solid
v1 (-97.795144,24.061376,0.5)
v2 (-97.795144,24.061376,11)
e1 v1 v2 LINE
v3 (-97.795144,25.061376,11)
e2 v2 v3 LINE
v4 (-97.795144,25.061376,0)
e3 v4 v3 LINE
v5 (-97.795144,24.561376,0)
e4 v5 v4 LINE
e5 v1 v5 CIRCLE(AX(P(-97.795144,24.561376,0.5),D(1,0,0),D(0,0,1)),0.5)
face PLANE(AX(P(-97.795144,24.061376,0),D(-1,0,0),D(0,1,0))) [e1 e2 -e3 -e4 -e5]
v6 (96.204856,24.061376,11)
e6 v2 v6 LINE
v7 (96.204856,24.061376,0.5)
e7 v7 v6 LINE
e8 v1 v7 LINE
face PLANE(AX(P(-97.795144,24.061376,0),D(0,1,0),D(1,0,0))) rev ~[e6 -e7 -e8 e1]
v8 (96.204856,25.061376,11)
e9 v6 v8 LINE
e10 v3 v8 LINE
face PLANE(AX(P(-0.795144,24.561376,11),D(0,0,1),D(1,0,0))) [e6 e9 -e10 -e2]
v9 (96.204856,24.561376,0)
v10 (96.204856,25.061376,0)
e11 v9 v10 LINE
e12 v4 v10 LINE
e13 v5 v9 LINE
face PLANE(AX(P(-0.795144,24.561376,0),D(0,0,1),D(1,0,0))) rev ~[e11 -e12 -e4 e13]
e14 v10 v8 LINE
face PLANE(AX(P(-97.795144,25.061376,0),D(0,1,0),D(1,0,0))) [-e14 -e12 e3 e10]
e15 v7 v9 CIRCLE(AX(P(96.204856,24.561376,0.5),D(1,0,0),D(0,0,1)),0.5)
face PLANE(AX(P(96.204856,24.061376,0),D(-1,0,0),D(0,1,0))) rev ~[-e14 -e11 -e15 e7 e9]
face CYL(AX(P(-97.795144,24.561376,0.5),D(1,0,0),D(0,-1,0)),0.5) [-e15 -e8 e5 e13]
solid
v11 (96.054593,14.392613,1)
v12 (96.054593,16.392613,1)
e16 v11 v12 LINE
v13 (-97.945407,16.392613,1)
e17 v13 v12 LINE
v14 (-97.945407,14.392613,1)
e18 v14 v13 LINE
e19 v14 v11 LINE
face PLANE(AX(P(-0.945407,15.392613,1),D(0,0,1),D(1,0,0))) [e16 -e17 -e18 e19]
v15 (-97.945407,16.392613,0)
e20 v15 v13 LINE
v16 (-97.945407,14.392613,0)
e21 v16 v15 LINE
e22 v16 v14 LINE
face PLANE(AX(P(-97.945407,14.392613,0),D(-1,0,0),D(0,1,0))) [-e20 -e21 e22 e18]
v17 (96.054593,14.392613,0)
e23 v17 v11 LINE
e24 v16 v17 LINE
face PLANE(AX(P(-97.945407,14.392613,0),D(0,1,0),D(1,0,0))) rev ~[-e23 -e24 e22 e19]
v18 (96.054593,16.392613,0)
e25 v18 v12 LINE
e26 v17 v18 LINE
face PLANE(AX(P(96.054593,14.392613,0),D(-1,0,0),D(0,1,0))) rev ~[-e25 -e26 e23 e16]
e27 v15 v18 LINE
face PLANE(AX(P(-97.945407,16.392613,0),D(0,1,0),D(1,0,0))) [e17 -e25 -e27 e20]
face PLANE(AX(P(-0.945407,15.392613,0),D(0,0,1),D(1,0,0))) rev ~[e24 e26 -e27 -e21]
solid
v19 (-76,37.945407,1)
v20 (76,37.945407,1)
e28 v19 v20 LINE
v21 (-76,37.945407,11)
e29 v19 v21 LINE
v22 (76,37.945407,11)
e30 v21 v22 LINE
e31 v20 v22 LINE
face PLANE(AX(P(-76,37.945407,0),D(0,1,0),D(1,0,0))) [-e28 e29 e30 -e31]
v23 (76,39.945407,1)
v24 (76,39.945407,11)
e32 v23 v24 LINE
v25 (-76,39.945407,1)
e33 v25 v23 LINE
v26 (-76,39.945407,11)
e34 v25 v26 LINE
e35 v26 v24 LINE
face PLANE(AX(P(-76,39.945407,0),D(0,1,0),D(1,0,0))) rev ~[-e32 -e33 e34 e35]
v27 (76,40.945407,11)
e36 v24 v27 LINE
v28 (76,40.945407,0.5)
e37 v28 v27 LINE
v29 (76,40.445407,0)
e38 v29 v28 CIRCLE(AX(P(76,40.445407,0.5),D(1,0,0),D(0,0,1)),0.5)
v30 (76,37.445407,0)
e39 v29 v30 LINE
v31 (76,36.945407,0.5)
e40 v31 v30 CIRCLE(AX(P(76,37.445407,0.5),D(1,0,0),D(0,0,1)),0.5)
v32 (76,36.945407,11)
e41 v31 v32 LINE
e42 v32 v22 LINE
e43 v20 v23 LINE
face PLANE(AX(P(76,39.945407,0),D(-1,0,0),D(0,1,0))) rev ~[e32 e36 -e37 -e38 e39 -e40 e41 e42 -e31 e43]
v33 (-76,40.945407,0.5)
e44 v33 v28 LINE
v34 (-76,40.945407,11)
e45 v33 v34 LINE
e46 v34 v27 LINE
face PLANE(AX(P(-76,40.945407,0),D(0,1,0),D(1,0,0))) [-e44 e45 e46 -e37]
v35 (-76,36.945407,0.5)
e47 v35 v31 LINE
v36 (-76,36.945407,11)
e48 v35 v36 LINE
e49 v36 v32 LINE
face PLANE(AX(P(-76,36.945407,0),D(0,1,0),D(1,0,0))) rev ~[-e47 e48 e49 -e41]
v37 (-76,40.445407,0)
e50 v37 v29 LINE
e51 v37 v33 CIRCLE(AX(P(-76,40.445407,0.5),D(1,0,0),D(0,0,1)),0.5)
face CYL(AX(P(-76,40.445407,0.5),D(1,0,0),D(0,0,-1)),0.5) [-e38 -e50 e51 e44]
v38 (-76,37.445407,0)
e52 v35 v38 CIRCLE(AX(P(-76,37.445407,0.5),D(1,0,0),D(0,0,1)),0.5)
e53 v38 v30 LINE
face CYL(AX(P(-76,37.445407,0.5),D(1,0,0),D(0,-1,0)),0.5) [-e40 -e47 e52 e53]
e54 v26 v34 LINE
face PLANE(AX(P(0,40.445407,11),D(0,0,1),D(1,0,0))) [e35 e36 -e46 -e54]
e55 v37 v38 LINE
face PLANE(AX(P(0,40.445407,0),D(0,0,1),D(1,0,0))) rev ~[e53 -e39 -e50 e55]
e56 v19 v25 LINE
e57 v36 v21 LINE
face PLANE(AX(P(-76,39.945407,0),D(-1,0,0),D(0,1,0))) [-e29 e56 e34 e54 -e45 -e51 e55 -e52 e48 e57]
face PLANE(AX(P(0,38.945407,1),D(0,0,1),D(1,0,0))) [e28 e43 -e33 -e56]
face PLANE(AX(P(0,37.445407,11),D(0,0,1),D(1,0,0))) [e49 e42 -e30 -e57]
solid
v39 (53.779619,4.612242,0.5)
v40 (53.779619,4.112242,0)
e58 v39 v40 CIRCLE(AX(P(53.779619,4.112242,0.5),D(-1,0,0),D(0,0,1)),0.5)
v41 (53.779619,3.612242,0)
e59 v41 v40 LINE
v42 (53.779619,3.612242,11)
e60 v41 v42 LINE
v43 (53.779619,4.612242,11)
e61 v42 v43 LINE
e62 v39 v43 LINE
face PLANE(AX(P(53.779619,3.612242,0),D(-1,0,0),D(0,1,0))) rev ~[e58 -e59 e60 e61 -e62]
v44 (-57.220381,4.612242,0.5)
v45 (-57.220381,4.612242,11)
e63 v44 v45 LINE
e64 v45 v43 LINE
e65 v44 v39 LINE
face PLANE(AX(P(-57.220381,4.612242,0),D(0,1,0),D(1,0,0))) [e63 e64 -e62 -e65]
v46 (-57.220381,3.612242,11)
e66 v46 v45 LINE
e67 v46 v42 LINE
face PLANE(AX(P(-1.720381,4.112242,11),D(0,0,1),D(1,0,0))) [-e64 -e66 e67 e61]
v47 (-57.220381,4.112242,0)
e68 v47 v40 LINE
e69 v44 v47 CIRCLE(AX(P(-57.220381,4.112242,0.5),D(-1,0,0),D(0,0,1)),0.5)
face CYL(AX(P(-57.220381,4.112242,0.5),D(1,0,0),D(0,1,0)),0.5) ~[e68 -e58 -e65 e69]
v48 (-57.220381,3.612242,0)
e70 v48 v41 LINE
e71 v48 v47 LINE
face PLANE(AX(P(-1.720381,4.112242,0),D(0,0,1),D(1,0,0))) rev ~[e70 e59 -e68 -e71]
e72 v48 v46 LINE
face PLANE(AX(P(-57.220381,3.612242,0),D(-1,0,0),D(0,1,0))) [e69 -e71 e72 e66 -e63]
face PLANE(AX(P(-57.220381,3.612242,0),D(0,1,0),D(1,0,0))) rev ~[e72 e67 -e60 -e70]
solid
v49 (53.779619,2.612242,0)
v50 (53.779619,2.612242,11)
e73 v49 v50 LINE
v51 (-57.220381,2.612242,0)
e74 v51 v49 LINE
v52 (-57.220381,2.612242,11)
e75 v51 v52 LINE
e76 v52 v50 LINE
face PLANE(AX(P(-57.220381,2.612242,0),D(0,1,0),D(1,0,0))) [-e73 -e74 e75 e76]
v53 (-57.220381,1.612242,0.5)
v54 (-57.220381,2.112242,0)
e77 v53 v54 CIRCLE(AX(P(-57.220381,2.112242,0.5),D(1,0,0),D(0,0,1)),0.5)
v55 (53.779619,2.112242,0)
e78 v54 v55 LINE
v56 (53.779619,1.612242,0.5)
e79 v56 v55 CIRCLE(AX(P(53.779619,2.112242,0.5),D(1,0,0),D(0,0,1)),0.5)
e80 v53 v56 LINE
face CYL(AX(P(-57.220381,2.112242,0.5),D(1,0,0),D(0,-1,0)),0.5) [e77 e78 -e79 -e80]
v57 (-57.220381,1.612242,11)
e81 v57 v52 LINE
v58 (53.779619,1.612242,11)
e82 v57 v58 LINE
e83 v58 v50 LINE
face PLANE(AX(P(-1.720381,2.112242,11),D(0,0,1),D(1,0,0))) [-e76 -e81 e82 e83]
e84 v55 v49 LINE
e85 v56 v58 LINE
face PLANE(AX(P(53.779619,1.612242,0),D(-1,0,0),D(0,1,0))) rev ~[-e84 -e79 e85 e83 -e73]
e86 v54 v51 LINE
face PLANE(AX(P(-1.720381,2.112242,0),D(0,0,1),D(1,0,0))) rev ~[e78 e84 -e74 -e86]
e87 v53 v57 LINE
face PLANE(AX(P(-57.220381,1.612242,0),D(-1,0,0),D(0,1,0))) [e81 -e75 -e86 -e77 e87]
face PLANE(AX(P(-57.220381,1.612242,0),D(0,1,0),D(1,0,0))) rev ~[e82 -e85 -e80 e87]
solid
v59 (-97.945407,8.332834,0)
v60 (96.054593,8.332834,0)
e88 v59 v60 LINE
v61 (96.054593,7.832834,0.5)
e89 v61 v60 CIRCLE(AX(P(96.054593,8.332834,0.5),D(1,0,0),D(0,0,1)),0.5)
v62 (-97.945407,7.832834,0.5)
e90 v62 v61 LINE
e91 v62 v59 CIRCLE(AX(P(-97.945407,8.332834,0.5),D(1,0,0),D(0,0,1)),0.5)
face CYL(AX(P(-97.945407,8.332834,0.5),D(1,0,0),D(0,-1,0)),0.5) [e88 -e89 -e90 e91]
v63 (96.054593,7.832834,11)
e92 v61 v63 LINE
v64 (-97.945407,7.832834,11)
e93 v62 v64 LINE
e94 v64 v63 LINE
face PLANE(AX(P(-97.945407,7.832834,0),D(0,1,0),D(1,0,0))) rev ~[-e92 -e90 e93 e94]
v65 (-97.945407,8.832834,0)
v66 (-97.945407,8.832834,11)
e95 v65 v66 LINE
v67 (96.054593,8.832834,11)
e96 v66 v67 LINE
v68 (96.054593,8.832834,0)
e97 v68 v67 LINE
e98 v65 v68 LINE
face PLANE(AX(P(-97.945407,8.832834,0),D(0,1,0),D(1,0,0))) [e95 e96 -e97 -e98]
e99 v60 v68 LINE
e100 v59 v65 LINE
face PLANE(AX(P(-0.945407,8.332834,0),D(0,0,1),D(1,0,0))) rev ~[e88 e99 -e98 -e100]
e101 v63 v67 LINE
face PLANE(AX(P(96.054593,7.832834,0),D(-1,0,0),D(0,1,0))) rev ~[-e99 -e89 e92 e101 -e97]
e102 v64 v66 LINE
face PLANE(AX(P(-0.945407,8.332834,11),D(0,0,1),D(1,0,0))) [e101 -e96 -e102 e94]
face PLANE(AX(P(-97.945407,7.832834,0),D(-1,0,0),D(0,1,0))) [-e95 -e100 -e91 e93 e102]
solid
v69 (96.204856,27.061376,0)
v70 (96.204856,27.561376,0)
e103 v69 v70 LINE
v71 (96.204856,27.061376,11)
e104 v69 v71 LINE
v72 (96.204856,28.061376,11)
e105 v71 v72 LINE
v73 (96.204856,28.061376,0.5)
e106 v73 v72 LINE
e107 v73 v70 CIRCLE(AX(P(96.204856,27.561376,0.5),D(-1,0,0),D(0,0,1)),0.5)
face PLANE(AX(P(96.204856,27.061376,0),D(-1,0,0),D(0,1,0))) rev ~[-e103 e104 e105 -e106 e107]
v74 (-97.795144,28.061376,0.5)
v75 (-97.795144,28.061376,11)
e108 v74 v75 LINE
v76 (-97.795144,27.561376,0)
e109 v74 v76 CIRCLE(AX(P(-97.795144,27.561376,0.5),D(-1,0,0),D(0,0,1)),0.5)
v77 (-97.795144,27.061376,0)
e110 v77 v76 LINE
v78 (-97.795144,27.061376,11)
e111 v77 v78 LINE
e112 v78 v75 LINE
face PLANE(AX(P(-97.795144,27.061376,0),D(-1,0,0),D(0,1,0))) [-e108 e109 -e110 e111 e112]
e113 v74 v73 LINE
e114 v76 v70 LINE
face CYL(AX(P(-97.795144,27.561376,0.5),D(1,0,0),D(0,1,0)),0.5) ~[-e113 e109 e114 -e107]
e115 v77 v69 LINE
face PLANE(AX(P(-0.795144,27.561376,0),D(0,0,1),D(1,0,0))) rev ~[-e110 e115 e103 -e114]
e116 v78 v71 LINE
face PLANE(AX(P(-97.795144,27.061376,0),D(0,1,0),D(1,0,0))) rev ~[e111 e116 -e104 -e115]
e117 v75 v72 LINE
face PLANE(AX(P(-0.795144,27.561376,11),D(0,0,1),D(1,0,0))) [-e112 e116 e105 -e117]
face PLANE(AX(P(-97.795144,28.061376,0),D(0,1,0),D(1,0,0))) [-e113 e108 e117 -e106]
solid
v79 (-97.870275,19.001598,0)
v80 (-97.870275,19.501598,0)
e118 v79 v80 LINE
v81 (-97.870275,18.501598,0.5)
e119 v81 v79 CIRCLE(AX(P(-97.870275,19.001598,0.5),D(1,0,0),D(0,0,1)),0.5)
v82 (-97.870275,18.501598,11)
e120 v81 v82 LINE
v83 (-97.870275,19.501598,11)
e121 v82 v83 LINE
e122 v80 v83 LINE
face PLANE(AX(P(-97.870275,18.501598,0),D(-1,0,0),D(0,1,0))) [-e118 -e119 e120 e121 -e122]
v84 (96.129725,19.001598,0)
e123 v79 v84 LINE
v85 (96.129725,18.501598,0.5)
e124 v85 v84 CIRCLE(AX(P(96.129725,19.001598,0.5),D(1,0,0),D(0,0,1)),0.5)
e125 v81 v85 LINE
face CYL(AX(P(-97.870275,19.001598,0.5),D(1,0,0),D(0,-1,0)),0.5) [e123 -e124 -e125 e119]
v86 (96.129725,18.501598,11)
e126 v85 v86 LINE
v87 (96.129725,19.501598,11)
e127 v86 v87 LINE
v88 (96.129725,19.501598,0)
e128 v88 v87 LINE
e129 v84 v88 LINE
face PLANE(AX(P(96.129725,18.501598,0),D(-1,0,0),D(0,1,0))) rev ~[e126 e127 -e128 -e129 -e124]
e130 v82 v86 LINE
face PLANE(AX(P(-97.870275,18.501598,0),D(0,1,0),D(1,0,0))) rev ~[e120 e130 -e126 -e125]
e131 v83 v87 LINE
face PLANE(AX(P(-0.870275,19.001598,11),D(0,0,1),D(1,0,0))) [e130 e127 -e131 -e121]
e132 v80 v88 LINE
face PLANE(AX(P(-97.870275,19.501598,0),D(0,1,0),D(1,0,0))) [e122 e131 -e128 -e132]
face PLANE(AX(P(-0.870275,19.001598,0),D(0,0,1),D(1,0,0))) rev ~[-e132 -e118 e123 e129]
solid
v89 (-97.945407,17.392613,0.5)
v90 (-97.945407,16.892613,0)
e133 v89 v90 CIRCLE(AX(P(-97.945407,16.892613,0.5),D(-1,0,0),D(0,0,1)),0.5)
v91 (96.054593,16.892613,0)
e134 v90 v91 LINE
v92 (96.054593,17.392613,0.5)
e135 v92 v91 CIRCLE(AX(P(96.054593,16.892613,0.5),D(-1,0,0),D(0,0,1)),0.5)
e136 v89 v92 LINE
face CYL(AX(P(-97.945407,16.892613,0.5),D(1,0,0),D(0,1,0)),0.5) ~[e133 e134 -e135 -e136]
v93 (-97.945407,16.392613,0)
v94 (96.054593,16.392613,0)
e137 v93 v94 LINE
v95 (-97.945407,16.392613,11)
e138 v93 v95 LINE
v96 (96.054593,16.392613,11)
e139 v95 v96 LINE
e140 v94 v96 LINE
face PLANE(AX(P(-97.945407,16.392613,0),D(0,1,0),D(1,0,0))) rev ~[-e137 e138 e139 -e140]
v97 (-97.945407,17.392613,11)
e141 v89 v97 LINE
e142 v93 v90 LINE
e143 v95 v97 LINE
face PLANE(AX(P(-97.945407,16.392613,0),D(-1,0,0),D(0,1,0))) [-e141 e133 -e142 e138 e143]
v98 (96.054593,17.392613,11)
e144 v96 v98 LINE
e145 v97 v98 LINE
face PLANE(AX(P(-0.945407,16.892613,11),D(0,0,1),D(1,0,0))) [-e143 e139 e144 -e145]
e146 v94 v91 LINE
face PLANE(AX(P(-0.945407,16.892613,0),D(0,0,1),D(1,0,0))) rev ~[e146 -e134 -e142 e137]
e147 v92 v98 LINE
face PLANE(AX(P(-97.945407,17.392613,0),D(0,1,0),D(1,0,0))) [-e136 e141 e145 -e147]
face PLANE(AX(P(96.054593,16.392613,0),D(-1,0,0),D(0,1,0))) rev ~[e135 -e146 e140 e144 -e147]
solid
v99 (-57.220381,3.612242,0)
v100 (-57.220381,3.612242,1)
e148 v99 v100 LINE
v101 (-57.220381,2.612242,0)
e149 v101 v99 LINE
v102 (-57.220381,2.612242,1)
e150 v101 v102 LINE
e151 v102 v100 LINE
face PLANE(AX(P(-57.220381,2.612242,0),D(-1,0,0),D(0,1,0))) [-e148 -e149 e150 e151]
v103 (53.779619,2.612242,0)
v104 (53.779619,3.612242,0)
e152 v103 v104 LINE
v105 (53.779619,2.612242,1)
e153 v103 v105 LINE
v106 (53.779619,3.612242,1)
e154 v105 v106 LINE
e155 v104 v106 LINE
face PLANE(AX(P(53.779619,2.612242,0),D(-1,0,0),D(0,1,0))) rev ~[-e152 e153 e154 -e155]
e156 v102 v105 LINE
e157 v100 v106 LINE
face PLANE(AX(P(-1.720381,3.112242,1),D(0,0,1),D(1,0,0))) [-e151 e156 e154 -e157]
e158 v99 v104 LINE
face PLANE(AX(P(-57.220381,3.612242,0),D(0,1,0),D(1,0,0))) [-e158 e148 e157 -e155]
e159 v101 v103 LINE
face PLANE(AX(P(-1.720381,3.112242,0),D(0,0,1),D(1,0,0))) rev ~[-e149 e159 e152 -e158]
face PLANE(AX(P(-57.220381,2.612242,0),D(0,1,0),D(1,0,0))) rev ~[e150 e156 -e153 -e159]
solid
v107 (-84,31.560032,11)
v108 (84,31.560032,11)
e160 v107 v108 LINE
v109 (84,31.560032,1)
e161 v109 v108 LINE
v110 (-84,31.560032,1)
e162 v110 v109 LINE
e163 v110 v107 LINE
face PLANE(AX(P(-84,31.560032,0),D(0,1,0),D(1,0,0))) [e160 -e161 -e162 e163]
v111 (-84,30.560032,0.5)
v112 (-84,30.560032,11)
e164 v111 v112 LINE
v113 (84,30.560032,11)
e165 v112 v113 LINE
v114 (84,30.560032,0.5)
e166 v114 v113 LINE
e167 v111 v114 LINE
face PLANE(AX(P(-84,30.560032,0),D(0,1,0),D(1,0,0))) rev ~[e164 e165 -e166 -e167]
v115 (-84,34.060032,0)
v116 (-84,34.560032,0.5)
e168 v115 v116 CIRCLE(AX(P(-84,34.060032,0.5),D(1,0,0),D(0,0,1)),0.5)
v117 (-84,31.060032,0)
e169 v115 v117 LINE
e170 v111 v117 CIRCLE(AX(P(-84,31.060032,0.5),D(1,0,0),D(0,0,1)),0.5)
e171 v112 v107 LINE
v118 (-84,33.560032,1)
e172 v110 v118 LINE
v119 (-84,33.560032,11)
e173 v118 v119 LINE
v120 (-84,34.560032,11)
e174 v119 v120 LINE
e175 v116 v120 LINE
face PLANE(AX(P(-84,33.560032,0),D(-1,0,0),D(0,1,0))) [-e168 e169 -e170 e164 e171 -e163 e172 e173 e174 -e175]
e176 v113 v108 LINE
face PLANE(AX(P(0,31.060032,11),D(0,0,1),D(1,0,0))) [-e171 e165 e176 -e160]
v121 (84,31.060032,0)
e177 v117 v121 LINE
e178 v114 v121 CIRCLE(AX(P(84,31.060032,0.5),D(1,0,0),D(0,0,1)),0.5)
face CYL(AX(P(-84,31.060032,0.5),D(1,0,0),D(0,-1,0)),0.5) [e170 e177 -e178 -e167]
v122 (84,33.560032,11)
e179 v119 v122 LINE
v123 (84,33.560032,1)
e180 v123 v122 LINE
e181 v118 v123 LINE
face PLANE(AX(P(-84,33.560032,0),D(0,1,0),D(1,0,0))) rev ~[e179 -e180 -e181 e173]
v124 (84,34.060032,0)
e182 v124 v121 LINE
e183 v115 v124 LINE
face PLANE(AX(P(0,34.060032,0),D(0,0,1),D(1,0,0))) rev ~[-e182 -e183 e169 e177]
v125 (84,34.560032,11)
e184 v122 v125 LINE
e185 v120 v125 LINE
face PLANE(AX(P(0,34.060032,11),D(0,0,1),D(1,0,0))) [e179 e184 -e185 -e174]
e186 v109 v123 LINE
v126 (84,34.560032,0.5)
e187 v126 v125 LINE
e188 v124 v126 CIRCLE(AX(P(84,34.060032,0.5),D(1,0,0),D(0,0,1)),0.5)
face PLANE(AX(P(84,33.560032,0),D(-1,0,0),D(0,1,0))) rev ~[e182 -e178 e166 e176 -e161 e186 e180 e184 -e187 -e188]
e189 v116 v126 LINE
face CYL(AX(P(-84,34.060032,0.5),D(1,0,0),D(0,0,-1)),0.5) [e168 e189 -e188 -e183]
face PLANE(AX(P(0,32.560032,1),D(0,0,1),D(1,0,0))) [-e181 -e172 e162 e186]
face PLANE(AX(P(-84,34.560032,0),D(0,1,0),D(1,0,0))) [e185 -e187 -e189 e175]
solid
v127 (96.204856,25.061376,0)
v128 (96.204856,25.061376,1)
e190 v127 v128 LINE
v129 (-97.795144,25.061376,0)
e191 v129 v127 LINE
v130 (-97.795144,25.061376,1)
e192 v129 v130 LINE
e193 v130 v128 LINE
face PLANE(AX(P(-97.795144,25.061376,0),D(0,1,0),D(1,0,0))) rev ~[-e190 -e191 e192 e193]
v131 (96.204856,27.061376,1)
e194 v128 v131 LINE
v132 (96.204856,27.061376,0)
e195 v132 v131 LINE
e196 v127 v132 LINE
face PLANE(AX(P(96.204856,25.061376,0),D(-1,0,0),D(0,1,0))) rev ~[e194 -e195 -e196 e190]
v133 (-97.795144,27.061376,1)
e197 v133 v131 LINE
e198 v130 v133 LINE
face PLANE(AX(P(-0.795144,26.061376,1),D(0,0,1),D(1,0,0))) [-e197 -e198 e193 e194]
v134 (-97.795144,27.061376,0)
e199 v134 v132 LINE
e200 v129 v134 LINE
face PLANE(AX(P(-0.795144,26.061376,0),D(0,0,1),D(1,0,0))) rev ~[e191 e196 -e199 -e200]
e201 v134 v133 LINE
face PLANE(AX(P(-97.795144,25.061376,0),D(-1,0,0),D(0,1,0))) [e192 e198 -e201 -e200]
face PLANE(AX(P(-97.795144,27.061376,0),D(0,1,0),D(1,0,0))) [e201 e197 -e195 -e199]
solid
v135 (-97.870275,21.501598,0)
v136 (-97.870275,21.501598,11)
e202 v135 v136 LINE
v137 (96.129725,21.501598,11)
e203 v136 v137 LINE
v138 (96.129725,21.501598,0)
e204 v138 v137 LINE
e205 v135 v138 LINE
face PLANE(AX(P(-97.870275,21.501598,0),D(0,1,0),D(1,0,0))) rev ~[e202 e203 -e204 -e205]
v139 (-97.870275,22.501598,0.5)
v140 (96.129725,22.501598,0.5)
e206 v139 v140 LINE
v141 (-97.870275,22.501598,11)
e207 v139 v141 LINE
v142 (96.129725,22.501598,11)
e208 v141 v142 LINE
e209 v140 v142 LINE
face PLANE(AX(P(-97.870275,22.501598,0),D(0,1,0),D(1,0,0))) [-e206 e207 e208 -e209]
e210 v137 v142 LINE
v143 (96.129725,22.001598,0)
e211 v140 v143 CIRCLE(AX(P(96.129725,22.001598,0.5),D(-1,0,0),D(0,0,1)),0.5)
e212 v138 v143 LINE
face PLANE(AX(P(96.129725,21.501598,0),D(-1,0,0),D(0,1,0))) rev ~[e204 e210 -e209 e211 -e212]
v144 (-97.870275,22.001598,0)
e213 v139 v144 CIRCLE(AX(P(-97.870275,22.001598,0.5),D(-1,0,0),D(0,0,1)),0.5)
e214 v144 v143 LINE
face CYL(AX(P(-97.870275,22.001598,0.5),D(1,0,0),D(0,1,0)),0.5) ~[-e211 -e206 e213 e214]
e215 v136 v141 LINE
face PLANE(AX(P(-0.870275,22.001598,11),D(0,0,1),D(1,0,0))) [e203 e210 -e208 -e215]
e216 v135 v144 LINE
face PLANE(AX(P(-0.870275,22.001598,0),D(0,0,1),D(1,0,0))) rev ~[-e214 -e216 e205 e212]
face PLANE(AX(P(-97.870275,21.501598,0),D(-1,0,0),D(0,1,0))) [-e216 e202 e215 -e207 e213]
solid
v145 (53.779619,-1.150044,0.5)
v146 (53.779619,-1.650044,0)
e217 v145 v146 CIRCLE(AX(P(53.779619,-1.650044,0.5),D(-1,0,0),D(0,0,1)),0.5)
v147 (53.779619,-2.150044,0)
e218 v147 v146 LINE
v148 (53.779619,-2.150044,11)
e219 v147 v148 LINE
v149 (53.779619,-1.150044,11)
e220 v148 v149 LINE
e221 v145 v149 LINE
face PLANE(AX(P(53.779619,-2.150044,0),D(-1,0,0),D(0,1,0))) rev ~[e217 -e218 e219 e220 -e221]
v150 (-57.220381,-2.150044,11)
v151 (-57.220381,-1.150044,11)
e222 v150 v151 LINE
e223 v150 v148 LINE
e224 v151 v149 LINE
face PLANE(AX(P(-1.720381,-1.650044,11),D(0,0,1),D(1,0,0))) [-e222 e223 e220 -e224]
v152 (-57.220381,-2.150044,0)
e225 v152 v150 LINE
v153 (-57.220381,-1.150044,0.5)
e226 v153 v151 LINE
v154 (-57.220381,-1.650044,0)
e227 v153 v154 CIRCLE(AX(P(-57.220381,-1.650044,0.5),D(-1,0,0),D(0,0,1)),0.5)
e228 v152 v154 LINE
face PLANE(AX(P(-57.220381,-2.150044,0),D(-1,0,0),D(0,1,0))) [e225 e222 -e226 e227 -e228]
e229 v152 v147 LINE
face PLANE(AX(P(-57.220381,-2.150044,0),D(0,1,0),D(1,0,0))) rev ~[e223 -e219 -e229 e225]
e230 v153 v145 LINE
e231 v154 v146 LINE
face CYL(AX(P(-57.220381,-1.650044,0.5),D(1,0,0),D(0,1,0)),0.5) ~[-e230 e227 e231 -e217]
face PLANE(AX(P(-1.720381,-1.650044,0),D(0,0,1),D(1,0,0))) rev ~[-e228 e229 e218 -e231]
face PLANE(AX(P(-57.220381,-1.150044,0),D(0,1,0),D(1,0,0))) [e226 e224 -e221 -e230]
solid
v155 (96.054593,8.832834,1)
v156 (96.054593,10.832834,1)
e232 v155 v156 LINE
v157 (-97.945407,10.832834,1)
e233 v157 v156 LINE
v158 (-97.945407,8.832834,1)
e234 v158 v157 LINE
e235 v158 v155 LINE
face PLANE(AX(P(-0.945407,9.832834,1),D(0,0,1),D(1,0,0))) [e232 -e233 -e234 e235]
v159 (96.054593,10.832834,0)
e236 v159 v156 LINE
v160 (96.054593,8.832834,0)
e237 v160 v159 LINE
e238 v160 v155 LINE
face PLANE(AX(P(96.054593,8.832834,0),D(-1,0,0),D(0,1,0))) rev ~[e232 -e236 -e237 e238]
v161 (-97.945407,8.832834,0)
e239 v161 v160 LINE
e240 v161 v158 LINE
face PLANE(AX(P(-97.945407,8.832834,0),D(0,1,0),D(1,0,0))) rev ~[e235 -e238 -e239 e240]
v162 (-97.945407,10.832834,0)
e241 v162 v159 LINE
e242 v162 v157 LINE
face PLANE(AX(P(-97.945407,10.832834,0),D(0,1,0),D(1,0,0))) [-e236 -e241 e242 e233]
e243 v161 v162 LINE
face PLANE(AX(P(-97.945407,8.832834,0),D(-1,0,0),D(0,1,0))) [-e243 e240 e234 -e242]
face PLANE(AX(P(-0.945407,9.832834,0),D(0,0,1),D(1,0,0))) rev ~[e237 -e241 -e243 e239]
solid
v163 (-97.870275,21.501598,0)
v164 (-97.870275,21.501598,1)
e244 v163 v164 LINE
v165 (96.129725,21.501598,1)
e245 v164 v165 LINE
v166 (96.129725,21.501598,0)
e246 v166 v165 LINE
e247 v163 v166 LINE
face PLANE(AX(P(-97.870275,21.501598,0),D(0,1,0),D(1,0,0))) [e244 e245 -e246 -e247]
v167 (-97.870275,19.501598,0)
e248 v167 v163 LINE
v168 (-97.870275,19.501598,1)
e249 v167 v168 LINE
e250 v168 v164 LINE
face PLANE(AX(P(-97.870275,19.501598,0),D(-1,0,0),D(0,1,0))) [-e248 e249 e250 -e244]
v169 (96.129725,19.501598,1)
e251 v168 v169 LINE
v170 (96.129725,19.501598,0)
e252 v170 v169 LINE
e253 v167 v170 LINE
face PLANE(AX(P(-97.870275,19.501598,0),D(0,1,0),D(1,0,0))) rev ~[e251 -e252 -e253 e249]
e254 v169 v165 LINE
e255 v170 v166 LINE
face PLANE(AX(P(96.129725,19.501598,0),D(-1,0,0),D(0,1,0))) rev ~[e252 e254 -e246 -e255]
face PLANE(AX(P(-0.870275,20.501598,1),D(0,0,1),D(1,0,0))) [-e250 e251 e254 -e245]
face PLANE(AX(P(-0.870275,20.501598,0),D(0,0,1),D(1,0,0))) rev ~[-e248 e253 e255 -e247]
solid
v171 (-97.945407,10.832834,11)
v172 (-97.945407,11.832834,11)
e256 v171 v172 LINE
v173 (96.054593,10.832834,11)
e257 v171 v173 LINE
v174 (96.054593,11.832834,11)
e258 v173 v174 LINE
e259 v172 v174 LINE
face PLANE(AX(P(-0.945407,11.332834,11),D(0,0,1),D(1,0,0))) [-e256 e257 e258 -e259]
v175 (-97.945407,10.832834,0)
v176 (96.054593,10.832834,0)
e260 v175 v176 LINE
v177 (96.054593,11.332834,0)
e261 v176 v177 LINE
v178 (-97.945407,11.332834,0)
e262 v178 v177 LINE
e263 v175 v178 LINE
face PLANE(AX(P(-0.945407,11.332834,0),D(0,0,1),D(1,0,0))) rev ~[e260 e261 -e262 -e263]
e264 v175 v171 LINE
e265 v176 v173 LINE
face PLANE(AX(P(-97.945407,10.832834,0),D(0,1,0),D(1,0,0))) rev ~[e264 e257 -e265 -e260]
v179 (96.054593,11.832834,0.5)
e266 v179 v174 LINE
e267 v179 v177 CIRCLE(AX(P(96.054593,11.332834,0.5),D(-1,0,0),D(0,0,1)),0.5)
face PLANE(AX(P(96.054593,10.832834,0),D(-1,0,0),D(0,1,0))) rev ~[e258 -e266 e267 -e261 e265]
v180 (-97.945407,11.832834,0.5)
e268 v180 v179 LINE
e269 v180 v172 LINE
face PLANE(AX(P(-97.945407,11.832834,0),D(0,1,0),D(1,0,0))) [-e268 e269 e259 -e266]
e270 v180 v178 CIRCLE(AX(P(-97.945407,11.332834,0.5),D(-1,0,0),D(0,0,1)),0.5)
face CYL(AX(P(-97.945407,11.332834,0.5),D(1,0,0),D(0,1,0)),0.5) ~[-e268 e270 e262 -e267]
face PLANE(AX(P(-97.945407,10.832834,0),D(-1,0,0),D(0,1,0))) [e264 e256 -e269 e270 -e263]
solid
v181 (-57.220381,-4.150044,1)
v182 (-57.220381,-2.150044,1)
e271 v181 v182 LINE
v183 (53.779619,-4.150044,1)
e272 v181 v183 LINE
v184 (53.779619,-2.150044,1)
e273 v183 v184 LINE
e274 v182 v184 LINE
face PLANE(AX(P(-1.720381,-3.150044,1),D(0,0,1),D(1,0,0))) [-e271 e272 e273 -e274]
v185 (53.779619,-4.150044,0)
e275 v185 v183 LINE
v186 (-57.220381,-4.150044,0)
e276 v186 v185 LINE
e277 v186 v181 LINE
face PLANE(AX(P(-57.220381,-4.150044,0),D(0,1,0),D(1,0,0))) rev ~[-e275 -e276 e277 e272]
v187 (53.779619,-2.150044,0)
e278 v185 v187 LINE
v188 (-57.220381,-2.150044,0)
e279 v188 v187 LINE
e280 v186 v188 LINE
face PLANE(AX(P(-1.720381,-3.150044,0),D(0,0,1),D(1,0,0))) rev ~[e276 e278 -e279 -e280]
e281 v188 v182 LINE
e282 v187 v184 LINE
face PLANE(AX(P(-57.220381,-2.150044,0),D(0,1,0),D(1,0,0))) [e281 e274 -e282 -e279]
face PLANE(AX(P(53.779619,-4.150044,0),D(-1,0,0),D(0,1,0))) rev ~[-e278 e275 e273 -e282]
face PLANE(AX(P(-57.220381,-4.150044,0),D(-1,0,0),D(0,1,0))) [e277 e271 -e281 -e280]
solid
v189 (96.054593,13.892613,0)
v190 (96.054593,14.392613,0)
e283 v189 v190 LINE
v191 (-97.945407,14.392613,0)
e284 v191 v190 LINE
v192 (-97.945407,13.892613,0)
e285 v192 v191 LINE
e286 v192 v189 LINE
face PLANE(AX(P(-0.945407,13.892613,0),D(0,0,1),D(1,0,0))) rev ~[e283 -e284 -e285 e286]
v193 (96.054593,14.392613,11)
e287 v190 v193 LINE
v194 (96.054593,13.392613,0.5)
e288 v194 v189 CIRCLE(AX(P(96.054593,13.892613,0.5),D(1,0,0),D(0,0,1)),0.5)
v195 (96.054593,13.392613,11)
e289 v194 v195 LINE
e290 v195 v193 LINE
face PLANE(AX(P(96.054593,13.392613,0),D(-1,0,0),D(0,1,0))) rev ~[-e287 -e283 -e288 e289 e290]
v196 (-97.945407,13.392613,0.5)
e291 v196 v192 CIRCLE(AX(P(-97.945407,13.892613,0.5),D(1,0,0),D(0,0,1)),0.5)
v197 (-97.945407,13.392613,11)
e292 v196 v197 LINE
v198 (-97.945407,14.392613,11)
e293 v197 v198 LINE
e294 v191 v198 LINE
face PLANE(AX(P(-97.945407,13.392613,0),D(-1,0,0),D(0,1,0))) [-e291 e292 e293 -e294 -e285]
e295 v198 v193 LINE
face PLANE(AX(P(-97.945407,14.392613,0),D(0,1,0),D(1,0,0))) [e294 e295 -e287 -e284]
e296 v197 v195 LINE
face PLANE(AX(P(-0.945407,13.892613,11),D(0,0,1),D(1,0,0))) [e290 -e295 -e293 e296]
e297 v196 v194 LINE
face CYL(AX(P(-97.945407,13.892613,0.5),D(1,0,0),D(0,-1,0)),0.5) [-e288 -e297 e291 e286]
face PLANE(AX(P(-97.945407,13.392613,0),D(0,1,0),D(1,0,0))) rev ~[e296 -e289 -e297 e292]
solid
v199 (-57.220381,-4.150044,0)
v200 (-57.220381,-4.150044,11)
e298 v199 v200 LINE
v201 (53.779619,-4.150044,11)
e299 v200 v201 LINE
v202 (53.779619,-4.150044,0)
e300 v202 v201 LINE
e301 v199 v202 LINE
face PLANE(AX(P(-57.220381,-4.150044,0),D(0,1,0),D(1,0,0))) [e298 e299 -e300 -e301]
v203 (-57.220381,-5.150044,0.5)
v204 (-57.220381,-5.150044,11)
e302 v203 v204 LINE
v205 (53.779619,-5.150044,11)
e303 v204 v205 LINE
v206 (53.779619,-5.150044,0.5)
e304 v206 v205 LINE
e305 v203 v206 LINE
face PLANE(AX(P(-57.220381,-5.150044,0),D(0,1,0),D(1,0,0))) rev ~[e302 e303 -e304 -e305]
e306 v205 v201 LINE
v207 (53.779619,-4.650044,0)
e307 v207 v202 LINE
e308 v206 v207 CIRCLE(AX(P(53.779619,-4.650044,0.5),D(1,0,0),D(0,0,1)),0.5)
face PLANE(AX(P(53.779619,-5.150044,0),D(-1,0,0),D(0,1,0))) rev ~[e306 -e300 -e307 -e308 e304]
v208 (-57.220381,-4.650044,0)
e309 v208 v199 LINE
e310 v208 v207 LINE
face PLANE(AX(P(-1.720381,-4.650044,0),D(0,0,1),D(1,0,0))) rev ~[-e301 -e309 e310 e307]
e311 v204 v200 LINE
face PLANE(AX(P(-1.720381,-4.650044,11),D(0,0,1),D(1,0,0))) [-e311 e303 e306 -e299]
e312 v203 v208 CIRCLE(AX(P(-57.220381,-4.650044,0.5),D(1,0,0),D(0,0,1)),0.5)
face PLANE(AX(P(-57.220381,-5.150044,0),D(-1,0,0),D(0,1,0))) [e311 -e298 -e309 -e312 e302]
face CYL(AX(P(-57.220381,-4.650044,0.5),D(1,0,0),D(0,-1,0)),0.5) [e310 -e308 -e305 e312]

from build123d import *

# Parameters (mm, degrees)
F0_W      = 111
F0_H      = 1
F0_H_2    = 2
F1_DEPTH  = 1
F2_DEPTH  = 11
F3_R      = 0.5
F4_W      = 194
F4_H      = 2
F5_DEPTH  = 1
F4_H_2    = 1
F6_DEPTH  = 11
F7_R      = 0.5
F8_W      = 168
F8_H      = 2
F9_DEPTH  = 1
F8_H_2    = 1
F10_DEPTH = 11
F11_R     = 0.5
F12_W     = 152
F12_H     = 2
F13_DEPTH = 1
F12_H_2   = 1
F14_DEPTH = 11
F15_R     = 0.5


with BuildPart() as f1:
    # F0 (on Top) → F1 (new body)
    with BuildSketch(Plane.XY):
        with Locations((-1.720381, 3.112242)):
            Rectangle(F0_W, F0_H)
        with Locations((-1.720381, -3.150044)):
            Rectangle(F0_W, F0_H_2)
    extrude(amount=F1_DEPTH)


with BuildPart() as f2:
    # F0 (on Top) → F2 (new body)
    with BuildSketch(Plane.XY):
        with Locations((-1.720381, 4.112242)):
            Rectangle(F0_W, F0_H)
        with Locations((-1.720381, 2.112242)):
            Rectangle(F0_W, F0_H)
        with Locations((-1.720381, -1.650044)):
            Rectangle(F0_W, F0_H)
        with Locations((-1.720381, -4.650044)):
            Rectangle(F0_W, F0_H)
    extrude(amount=F2_DEPTH)

    # F3
    f3_edges = [f2.edges().sort_by_distance(p)[0] for p in [
        (-1.720381, -5.150044, 0),
        (-1.720381, -1.150044, 0),
        (-1.720381, 1.612242, 0),
        (-1.720381, 4.612242, 0),
    ]]
    fillet(f3_edges, radius=F3_R)


with BuildPart() as f5:
    # F4 (on Top) → F5 (new body)
    with BuildSketch(Plane.XY):
        with Locations((-0.795144, 26.061376)):
            Rectangle(F4_W, F4_H)
        with Locations((-0.870275, 20.501598)):
            Rectangle(F4_W, F4_H)
        with Locations((-0.945407, 15.392613)):
            Rectangle(F4_W, F4_H)
        with Locations((-0.945407, 9.832834)):
            Rectangle(F4_W, F4_H)
    extrude(amount=F5_DEPTH)


with BuildPart() as f6:
    # F4 (on Top) → F6 (new body)
    with BuildSketch(Plane.XY):
        with Locations((-0.795144, 27.561376)):
            Rectangle(F4_W, F4_H_2)
        with Locations((-0.795144, 24.561376)):
            Rectangle(F4_W, F4_H_2)
        with Locations((-0.870275, 22.001598)):
            Rectangle(F4_W, F4_H_2)
        with Locations((-0.870275, 19.001598)):
            Rectangle(F4_W, F4_H_2)
        with Locations((-0.945407, 16.892613)):
            Rectangle(F4_W, F4_H_2)
        with Locations((-0.945407, 13.892613)):
            Rectangle(F4_W, F4_H_2)
        with Locations((-0.945407, 11.332834)):
            Rectangle(F4_W, F4_H_2)
        with Locations((-0.945407, 8.332834)):
            Rectangle(F4_W, F4_H_2)
    extrude(amount=F6_DEPTH)

    # F7
    f7_edges = [f6.edges().sort_by_distance(p)[0] for p in [
        (-0.945407, 7.832834, 0),
        (-0.945407, 11.832834, 0),
        (-0.945407, 13.392613, 0),
        (-0.945407, 17.392613, 0),
        (-0.870275, 18.501598, 0),
        (-0.870275, 22.501598, 0),
        (-0.795144, 24.061376, 0),
        (-0.795144, 28.061376, 0),
    ]]
    fillet(f7_edges, radius=F7_R)


with BuildPart() as f9:
    # F8 (on Top) → F9 (new body)
    with BuildSketch(Plane.XY):
        with Locations((0, 32.560032)):
            Rectangle(F8_W, F8_H)
    extrude(amount=F9_DEPTH)

    # F8 (on Top) → F10 (join)
    with BuildSketch(Plane.XY):
        with Locations((0, 34.060032)):
            Rectangle(F8_W, F8_H_2)
        with Locations((0, 31.060032)):
            Rectangle(F8_W, F8_H_2)
    extrude(amount=F10_DEPTH)

    # F11
    f11_edges = [f9.edges().sort_by_distance(p)[0] for p in [
        (0, 30.560032, 0),
        (0, 34.560032, 0),
    ]]
    fillet(f11_edges, radius=F11_R)


with BuildPart() as f13:
    # F12 (on Top) → F13 (new body)
    with BuildSketch(Plane.XY):
        with Locations((0, 38.945407)):
            Rectangle(F12_W, F12_H)
    extrude(amount=F13_DEPTH)

    # F12 (on Top) → F14 (join)
    with BuildSketch(Plane.XY):
        with Locations((0, 40.445407)):
            Rectangle(F12_W, F12_H_2)
        with Locations((0, 37.445407)):
            Rectangle(F12_W, F12_H_2)
    extrude(amount=F14_DEPTH)

    # F15
    f15_edges = [f13.edges().sort_by_distance(p)[0] for p in [
        (0, 40.945407, 0),
        (0, 36.945407, 0),
    ]]
    fillet(f15_edges, radius=F15_R)


solid = Compound([f1.part, f2.part, f5.part, f6.part, f9.part, f13.part])
